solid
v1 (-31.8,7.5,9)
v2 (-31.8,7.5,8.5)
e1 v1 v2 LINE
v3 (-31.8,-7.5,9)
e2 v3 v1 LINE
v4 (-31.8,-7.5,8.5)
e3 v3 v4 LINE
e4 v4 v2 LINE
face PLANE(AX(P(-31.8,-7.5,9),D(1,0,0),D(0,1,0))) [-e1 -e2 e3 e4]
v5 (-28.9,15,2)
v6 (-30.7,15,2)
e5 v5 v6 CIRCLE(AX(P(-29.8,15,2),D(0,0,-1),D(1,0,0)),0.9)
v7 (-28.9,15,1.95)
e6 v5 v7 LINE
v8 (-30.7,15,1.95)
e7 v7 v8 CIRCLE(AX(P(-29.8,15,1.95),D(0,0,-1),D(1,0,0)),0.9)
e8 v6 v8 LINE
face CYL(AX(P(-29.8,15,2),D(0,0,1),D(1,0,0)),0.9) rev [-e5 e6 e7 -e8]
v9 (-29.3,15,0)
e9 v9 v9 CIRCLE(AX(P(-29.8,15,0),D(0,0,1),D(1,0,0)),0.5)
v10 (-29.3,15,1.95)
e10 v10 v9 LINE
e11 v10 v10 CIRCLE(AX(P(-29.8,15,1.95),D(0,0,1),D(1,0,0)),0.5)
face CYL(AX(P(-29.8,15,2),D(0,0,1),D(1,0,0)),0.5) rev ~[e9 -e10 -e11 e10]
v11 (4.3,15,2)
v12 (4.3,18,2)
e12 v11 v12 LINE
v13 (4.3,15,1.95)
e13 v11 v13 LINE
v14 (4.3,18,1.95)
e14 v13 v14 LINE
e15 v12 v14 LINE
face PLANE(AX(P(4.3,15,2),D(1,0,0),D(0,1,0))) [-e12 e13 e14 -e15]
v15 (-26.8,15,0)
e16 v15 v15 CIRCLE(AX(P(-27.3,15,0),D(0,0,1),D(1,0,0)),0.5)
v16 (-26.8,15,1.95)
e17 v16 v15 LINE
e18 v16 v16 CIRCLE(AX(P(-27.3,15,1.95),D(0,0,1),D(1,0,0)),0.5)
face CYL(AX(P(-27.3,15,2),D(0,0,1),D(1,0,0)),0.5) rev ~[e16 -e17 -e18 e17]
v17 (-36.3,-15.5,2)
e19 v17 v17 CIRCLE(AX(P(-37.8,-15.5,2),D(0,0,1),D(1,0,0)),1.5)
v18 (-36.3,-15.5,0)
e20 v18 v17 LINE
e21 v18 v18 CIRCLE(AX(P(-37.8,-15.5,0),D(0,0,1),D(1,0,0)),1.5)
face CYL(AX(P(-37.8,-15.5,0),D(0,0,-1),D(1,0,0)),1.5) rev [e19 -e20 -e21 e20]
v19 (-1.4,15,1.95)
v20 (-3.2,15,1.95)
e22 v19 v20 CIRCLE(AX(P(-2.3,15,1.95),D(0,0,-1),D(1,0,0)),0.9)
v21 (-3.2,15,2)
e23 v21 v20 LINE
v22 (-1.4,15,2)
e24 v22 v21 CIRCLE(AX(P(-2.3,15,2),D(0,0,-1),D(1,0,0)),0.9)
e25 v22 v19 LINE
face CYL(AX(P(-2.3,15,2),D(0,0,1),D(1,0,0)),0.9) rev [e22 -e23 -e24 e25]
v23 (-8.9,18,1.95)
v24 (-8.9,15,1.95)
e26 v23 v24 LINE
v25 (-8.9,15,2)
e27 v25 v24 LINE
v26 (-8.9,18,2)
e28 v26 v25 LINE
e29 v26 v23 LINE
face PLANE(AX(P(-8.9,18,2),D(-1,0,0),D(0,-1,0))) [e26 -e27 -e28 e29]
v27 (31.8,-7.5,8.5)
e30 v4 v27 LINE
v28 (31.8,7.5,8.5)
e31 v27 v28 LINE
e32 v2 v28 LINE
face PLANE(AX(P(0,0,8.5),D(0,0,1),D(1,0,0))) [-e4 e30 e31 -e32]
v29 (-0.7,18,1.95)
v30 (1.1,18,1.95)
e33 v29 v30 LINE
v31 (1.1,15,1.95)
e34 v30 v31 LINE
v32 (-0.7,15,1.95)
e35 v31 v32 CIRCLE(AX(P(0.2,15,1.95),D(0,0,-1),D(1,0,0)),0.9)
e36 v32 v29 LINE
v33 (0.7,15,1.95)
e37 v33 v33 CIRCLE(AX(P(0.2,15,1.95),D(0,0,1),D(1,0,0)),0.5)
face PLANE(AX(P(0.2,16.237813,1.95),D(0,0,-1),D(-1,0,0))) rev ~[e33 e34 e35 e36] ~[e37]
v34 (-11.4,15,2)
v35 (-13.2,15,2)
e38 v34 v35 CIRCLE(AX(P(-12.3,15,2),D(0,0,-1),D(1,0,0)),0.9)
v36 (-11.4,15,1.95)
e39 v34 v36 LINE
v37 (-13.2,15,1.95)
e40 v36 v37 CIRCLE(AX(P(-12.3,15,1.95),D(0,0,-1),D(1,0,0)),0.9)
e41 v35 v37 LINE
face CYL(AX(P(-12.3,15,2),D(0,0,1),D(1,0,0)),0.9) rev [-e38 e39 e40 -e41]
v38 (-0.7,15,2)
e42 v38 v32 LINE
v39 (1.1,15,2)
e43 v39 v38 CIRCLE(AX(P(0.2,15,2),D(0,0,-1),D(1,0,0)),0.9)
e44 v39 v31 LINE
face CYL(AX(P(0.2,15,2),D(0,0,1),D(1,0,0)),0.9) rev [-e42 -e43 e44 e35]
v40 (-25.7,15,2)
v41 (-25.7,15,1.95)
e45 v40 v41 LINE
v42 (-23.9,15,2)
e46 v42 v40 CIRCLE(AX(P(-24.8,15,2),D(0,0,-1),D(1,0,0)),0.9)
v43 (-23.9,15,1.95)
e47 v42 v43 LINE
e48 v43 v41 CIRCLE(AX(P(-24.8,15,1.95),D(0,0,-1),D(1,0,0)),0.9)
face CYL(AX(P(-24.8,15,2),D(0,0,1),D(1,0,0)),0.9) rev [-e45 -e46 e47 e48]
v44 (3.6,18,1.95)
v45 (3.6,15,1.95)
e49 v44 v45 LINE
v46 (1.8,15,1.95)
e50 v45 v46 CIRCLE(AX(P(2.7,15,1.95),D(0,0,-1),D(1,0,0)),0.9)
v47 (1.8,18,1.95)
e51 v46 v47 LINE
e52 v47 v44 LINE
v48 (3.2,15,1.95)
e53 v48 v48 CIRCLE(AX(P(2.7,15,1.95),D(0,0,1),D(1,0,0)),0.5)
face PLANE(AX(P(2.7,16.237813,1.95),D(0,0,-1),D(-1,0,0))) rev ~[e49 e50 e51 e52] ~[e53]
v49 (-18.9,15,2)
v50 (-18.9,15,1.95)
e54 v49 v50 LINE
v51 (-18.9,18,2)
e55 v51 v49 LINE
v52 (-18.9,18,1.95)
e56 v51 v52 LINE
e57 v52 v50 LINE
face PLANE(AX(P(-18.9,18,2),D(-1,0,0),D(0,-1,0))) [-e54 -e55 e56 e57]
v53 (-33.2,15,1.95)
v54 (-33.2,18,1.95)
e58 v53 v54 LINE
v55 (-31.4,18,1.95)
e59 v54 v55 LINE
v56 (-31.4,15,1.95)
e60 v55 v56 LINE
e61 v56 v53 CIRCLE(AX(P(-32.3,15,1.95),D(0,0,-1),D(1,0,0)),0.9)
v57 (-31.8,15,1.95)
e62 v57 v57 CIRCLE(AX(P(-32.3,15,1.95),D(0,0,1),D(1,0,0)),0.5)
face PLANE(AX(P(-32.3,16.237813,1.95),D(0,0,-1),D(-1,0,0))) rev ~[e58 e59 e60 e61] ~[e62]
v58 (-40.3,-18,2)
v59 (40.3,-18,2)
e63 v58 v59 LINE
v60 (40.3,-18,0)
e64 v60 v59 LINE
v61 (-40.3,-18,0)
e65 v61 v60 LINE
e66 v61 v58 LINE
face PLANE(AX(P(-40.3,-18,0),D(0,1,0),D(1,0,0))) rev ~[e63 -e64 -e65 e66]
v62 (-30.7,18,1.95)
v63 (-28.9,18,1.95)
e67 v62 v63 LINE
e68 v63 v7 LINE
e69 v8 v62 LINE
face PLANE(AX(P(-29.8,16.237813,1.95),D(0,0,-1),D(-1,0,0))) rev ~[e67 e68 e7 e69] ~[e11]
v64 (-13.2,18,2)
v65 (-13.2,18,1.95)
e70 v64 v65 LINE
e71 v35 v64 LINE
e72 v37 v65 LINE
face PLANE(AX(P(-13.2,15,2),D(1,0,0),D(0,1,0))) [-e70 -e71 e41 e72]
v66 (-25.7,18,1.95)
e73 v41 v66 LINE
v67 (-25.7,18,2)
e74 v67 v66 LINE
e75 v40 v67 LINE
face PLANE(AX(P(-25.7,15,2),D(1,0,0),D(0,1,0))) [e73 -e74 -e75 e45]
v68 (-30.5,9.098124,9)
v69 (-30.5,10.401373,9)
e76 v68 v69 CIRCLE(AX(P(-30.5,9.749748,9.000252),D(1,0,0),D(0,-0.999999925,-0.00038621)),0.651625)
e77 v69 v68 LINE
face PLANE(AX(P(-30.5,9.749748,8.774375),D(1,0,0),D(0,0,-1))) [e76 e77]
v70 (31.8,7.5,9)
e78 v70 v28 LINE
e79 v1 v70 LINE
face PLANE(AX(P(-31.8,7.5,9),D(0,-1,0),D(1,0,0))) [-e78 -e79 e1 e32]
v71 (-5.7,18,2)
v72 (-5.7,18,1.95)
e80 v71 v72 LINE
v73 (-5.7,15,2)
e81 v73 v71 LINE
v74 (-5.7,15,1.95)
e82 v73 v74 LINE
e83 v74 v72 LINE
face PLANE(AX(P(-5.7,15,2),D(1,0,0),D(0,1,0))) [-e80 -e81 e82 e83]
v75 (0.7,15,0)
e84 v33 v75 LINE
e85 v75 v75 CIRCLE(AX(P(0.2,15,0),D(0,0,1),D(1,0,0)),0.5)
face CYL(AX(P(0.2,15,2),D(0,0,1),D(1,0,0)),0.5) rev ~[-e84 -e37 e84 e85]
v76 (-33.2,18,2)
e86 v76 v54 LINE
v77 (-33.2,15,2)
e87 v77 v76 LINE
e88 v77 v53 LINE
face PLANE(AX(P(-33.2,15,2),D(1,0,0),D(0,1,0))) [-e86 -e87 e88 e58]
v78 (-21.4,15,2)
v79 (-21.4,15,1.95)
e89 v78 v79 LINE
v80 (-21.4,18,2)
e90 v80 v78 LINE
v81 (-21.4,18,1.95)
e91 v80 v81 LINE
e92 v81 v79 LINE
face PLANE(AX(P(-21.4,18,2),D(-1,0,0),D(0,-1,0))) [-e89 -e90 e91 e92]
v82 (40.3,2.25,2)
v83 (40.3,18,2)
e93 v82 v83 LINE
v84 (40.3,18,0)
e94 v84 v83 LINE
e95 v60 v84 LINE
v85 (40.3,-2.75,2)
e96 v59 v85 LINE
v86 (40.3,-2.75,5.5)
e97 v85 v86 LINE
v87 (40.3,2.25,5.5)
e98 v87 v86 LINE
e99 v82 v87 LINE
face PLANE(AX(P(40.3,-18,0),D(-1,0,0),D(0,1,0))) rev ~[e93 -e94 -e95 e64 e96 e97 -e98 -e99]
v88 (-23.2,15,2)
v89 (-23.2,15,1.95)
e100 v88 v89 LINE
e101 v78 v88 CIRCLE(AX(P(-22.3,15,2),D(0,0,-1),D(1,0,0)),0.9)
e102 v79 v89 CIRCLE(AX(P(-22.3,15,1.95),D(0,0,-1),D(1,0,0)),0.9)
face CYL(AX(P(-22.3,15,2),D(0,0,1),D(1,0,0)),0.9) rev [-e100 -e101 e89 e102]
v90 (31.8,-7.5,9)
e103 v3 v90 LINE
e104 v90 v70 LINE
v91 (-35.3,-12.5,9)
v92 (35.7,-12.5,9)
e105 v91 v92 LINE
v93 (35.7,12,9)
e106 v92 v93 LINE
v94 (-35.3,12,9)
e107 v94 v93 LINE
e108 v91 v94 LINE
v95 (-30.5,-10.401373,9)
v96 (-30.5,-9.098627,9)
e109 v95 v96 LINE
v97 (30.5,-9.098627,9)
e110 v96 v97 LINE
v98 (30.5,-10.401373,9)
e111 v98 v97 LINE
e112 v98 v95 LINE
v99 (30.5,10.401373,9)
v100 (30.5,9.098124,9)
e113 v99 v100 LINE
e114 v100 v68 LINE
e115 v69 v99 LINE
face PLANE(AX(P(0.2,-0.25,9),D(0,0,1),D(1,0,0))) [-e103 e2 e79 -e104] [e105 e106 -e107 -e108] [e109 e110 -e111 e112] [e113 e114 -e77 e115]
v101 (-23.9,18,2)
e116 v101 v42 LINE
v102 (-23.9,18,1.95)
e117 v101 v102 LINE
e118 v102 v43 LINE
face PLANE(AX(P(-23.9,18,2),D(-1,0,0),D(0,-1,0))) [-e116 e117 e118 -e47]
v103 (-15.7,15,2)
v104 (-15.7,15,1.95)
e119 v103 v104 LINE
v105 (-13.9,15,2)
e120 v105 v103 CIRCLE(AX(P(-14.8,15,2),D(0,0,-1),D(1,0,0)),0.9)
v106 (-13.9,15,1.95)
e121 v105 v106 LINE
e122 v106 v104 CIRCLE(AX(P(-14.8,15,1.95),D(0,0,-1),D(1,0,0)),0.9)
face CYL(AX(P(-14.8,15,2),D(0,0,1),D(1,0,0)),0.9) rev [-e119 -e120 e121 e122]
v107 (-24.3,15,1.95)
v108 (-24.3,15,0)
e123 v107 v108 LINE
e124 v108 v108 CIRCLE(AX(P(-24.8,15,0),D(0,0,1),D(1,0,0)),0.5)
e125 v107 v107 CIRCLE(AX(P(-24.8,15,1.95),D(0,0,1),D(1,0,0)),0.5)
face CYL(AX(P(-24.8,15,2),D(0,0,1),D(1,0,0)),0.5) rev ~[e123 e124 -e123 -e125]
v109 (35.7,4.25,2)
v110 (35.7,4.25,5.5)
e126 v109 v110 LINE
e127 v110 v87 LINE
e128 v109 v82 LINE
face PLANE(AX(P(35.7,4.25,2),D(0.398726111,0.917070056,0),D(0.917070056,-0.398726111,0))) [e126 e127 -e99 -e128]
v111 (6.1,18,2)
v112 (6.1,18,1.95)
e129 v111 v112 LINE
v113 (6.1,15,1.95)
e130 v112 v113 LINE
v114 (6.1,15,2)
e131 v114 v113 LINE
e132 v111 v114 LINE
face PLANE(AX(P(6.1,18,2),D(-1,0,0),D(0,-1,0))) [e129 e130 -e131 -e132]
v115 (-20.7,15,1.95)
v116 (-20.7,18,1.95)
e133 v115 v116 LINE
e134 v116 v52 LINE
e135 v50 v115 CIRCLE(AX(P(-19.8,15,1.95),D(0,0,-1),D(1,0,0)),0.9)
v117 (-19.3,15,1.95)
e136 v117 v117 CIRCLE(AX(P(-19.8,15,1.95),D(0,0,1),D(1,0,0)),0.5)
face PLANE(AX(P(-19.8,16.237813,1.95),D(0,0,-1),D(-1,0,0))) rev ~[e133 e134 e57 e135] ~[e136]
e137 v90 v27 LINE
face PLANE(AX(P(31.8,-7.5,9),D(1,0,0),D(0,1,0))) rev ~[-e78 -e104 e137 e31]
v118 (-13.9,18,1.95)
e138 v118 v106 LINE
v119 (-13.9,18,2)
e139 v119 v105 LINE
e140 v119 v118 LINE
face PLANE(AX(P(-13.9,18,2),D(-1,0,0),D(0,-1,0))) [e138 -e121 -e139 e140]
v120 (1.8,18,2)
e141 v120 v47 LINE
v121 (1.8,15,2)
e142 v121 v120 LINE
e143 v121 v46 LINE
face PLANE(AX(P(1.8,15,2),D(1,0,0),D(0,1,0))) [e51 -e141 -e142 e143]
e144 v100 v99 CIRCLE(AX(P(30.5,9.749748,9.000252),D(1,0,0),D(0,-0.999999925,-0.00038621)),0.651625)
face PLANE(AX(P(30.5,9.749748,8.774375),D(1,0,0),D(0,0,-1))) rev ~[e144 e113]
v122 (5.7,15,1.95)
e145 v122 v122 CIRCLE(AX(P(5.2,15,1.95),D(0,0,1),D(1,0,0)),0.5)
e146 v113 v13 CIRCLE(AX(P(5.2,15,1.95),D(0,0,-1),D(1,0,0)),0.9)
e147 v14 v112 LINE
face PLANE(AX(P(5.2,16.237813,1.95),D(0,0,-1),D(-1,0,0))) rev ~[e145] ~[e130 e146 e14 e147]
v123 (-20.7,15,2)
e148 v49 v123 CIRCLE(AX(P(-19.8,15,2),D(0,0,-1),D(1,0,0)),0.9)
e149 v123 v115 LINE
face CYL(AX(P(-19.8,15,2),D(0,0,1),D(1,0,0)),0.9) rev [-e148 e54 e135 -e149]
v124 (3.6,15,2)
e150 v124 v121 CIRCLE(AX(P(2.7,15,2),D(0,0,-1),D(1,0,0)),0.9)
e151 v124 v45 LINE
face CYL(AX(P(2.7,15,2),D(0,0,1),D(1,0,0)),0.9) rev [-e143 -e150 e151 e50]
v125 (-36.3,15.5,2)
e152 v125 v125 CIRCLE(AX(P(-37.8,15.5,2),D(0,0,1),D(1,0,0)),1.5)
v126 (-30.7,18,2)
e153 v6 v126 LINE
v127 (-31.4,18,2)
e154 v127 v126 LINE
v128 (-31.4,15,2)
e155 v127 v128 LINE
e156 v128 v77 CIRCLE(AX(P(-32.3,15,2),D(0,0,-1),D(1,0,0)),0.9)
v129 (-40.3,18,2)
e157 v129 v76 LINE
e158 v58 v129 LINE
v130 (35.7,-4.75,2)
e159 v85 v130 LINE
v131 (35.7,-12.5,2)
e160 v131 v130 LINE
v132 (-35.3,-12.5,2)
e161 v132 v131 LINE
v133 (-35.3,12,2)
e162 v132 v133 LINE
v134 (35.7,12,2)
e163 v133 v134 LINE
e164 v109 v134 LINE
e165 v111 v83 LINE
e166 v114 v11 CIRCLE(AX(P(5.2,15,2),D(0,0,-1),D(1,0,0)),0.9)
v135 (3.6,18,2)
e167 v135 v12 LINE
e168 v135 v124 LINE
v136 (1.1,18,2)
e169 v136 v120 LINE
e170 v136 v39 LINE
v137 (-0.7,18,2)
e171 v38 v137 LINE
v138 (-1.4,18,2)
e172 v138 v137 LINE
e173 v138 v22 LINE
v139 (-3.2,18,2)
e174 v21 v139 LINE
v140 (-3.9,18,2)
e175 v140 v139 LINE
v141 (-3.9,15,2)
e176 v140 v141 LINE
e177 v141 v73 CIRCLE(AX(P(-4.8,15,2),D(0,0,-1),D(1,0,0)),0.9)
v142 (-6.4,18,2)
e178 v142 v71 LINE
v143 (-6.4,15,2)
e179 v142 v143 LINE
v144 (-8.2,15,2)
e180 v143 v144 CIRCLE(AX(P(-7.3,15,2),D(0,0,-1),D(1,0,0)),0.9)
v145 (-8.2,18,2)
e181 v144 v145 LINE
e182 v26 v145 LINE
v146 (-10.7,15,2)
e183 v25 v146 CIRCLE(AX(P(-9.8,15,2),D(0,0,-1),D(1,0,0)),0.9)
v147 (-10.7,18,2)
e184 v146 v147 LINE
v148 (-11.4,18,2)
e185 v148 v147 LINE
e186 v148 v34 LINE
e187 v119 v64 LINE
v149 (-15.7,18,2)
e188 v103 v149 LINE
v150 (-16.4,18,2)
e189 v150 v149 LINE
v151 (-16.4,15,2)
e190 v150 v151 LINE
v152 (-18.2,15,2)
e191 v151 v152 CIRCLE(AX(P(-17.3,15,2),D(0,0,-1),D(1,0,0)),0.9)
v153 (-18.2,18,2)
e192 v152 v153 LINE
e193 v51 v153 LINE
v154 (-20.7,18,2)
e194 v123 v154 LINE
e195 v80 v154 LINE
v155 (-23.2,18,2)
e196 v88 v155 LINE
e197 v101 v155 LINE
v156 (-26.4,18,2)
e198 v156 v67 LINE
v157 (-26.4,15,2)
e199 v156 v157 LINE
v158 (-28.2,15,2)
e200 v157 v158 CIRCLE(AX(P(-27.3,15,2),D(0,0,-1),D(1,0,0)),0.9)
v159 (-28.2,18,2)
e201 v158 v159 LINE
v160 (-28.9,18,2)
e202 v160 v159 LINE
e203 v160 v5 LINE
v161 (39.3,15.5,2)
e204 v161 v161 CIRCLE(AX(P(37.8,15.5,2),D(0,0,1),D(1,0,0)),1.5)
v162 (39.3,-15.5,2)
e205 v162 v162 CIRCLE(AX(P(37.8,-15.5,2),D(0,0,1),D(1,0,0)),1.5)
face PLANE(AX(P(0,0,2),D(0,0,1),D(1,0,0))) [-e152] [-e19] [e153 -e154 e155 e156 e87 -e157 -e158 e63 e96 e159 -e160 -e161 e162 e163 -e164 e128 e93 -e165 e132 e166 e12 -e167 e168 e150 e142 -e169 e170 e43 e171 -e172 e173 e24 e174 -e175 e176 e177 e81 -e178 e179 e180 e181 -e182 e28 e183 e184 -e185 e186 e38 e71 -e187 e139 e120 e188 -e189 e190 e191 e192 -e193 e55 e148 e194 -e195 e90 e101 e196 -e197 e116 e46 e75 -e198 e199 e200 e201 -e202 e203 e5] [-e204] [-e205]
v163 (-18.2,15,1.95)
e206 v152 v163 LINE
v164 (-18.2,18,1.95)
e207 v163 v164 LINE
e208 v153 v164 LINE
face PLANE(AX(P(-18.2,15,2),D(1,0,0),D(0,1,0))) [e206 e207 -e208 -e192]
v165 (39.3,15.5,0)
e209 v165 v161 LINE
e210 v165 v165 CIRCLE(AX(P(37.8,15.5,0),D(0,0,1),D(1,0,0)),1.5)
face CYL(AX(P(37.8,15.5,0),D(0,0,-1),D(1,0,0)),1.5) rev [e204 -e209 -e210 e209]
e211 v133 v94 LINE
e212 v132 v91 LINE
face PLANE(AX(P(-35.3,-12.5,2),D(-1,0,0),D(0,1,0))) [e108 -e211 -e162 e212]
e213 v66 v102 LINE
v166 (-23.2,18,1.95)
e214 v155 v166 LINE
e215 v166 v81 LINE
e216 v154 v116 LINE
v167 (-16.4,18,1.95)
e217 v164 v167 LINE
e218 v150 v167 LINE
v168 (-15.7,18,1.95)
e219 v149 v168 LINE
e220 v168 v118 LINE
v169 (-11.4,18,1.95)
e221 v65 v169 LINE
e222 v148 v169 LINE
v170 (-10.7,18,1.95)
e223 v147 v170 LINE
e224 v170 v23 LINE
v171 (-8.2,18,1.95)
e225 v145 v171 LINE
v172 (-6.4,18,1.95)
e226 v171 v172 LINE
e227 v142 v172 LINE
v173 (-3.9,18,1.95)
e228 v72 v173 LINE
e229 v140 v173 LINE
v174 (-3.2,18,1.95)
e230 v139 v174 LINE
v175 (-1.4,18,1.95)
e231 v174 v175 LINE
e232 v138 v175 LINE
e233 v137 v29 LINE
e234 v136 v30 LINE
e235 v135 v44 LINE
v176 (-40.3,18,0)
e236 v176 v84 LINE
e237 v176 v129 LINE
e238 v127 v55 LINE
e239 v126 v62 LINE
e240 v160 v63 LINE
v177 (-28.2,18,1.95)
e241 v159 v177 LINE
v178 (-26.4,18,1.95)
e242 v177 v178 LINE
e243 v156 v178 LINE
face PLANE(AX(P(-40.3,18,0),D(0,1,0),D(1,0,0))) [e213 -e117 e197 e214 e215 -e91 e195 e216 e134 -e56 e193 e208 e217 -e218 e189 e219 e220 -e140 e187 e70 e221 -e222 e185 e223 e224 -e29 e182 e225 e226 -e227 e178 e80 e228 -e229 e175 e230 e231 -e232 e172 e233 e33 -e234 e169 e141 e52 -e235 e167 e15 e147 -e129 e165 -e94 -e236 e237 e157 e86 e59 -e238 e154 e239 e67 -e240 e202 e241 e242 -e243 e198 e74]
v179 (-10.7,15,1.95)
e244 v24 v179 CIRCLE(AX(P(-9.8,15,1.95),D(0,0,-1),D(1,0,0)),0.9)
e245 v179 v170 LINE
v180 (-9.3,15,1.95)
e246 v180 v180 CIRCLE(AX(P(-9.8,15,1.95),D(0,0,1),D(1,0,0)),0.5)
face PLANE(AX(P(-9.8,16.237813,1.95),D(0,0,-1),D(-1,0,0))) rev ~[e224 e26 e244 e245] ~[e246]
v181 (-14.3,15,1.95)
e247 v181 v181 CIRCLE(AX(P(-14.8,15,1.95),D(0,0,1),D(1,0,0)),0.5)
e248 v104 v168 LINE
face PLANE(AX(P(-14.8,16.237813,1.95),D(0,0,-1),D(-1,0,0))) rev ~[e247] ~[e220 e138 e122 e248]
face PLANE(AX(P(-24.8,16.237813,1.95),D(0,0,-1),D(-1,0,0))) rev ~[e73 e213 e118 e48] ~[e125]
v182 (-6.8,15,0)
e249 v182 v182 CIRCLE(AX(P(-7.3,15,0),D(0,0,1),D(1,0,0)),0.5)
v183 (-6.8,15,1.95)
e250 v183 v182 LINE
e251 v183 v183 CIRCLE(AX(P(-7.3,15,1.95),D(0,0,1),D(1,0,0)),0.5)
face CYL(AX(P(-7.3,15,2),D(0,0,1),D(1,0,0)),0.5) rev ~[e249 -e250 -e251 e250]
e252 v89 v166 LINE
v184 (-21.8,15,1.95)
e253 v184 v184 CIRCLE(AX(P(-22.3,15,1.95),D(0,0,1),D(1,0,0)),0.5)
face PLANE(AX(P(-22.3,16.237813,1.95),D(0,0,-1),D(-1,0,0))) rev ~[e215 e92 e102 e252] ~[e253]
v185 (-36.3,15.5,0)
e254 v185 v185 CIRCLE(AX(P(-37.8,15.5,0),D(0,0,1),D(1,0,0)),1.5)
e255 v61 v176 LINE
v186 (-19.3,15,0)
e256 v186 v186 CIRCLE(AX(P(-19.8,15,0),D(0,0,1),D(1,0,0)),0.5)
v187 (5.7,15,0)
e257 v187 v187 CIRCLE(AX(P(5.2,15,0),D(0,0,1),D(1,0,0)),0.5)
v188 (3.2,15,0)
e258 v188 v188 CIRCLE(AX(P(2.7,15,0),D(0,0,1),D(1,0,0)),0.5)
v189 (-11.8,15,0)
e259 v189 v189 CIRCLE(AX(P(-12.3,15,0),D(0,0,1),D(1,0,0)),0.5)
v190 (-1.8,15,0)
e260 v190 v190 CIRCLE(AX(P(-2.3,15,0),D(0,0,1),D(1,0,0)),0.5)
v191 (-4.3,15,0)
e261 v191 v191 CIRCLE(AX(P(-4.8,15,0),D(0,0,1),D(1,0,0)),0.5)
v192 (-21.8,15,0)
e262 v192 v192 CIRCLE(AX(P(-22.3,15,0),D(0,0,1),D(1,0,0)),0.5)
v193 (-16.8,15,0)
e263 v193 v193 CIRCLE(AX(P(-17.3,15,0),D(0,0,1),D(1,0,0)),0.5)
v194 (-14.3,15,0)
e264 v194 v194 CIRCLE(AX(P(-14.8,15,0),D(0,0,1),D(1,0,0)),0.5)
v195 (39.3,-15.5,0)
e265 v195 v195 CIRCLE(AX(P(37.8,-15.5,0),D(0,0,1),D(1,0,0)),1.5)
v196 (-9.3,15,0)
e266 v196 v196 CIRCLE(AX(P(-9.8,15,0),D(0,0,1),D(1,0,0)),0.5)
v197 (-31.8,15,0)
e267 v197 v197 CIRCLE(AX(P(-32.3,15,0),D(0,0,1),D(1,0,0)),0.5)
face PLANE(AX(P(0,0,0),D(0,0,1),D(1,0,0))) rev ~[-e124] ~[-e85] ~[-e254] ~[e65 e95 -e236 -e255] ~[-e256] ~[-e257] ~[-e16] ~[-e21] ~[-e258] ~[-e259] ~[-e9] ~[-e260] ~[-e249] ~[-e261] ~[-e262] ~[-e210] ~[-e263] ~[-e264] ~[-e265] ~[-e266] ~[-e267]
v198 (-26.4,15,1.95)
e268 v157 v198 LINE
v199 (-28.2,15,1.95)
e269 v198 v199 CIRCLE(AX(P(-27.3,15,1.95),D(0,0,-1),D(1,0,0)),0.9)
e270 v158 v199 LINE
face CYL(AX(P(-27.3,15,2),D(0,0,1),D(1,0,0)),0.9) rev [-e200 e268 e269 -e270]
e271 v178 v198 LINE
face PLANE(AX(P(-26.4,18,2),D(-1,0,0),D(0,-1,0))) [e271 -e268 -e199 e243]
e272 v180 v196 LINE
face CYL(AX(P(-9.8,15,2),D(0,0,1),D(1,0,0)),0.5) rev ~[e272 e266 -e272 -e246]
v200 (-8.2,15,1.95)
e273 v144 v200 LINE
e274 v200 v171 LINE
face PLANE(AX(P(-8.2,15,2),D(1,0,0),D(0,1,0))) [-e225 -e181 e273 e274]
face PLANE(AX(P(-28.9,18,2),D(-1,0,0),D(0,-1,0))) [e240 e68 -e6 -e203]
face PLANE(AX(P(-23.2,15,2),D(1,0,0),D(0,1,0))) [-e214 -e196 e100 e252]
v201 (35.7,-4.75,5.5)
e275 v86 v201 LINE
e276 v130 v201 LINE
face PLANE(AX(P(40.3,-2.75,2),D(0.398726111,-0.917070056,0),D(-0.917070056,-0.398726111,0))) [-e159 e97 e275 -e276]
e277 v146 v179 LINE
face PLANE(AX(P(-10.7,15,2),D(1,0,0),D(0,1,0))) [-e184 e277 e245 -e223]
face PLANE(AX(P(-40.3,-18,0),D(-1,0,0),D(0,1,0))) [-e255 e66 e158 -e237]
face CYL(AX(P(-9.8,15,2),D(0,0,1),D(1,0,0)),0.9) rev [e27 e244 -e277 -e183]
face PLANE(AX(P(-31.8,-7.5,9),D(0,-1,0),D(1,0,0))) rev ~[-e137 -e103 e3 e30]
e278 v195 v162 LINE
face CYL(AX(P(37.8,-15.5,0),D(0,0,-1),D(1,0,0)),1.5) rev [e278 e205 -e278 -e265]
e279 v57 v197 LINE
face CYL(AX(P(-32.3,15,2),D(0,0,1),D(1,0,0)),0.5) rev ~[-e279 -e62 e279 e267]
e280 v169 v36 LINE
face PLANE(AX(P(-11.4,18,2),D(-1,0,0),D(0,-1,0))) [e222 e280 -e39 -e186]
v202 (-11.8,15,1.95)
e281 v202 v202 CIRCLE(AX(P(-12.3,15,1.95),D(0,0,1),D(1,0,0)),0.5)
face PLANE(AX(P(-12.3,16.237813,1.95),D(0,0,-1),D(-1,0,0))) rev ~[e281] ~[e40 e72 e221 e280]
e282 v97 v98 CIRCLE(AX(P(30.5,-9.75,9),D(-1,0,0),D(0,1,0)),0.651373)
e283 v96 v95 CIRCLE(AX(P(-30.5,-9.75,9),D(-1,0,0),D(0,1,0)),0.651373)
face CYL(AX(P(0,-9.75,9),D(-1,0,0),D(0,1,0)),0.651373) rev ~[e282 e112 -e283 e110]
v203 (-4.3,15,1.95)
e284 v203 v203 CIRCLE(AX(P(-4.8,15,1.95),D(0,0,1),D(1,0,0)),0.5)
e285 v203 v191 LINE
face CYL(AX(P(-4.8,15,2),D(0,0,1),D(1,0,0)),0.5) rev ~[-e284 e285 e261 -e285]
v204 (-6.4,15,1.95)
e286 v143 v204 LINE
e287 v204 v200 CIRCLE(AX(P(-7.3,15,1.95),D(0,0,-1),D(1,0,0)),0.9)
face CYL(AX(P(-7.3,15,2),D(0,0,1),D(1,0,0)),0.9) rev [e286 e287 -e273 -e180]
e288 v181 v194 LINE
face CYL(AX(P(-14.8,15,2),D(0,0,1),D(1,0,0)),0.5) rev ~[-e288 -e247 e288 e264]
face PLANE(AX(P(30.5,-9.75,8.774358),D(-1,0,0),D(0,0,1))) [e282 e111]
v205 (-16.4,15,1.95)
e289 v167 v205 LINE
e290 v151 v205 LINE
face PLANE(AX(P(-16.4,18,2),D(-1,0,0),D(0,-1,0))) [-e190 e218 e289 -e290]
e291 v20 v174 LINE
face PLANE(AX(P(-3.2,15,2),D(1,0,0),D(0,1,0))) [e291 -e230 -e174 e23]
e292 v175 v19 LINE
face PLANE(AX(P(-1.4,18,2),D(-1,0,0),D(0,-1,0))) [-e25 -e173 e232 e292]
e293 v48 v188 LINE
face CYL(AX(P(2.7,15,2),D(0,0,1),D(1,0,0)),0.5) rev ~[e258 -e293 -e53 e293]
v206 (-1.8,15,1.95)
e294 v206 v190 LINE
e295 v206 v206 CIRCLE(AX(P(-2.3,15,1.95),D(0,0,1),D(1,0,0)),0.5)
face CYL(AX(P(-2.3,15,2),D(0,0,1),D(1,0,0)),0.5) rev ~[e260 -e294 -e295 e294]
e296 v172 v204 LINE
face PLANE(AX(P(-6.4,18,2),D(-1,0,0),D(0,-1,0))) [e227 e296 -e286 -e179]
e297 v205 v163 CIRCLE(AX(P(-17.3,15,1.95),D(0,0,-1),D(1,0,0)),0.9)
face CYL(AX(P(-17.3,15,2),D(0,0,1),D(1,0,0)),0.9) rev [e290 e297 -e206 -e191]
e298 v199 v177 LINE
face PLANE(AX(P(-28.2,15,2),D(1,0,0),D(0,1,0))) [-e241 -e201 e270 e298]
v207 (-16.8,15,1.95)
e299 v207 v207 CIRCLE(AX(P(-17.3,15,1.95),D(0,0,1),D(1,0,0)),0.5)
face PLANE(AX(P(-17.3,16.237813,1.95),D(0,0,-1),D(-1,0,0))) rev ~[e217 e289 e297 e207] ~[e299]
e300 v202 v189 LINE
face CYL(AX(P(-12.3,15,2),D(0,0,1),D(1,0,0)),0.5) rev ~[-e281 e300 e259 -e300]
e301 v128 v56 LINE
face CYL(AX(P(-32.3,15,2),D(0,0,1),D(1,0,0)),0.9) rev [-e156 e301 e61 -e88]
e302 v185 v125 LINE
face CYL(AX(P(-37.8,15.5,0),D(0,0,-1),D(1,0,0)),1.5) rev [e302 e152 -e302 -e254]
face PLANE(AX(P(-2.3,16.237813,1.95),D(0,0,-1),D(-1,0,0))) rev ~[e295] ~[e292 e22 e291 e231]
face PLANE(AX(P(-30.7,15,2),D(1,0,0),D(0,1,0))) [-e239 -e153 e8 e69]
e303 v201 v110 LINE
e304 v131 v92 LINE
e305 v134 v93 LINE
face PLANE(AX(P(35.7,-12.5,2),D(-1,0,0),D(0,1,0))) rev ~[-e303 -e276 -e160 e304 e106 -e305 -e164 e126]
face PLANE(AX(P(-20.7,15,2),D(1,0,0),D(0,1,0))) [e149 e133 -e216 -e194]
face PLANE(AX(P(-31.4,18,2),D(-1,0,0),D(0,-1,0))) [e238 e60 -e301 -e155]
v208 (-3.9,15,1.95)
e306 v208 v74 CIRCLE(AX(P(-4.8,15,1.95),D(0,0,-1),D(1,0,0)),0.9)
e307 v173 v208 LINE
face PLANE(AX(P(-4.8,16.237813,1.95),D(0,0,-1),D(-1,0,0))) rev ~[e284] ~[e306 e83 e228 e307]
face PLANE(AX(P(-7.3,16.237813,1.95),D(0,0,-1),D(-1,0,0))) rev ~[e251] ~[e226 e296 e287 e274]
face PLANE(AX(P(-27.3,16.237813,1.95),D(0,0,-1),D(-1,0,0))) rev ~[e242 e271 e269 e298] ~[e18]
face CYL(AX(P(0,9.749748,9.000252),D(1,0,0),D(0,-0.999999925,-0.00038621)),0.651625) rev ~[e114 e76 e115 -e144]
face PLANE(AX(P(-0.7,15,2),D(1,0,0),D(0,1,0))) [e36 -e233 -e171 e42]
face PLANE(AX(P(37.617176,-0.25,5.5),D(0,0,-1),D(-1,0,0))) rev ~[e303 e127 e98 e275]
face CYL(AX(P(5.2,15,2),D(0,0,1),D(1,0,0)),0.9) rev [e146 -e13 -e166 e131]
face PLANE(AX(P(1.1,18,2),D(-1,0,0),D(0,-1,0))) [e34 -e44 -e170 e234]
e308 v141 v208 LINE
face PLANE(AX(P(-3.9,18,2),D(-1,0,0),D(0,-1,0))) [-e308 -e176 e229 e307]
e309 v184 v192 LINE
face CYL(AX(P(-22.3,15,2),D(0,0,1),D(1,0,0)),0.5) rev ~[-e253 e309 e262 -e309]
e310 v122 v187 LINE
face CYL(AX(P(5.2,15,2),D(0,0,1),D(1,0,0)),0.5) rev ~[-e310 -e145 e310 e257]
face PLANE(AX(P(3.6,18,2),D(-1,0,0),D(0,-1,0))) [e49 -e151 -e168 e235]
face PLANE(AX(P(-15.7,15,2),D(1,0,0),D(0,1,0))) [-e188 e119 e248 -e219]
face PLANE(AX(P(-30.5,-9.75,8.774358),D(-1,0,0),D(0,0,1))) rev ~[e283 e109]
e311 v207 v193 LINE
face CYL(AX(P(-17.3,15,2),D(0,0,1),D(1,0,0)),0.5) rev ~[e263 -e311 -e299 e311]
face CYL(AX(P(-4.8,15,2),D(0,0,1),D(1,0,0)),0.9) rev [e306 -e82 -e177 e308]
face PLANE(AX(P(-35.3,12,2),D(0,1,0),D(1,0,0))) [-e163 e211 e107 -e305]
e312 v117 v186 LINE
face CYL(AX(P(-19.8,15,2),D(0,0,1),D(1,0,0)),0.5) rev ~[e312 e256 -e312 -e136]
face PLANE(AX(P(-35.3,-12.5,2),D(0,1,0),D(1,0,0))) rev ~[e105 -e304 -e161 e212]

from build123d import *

# Parameters (mm, degrees)
CROQUIS1_W                 = 80.6
CROQUIS1_H                 = 36
CROQUIS1_R                 = 1.5
SALIENTE_EXTRUIR1_DEPTH    = 2
CROQUIS2_W                 = 71
CROQUIS2_H                 = 24.5
SALIENTE_EXTRUIR2_DEPTH    = 7
CROQUIS3_W                 = 63.6
CROQUIS3_H                 = 15
CORTAR_EXTRUIR1_DEPTH      = 0.5
CORTAR_EXTRUIR2_DEPTH      = 30.5
CORTAR_EXTRUIR2_DEPTH_BACK = 30.5
SALIENTE_EXTRUIR3_DEPTH    = 3.5
CROQUIS6_R                 = 0.5
CORTAR_EXTRUIR3_DEPTH      = 3.5
CROQUIS8_R                 = 0.5
CORTAR_EXTRUIR4_DEPTH      = 0.05
MATRIZL1_COUNT             = 16
MATRIZL1_PITCH             = 2.5


with BuildPart() as part:
    # Croquis1 → Saliente-Extruir1 (new body)
    with BuildSketch(Plane.XY):
        Rectangle(CROQUIS1_W, CROQUIS1_H)
        with Locations((37.8, 15.5)):
            Circle(CROQUIS1_R, mode=Mode.SUBTRACT)
        with Locations((-37.8, 15.5)):
            Circle(CROQUIS1_R, mode=Mode.SUBTRACT)
        with Locations((37.8, -15.5)):
            Circle(CROQUIS1_R, mode=Mode.SUBTRACT)
        with Locations((-37.8, -15.5)):
            Circle(CROQUIS1_R, mode=Mode.SUBTRACT)
    extrude(amount=SALIENTE_EXTRUIR1_DEPTH)

    # Croquis2 → Saliente-Extruir2 (add)
    with BuildSketch(Plane.XY.offset(2)):
        with Locations((0.2, -0.25)):
            Rectangle(CROQUIS2_W, CROQUIS2_H)
    extrude(amount=SALIENTE_EXTRUIR2_DEPTH)

    # Croquis3 → Cortar-Extruir1 (cut)
    with BuildSketch(Plane.XY.offset(9)):
        Rectangle(CROQUIS3_W, CROQUIS3_H)
    extrude(amount=-CORTAR_EXTRUIR1_DEPTH, mode=Mode.SUBTRACT)

    # Croquis4 → Cortar-Extruir2 (cut, two sides)
    with BuildSketch(Plane(origin=(0, 0, 0), x_dir=(0, 0, -1), z_dir=(1, 0, 0))) as cortar_extruir2_sk:
        with BuildLine():
            Line((-9, 10.401372799), (-9, 9.098123873))
            ThreePointArc((-9, 9.098123873), (-8.348627201, 9.75), (-9, 10.401372799))
        make_face()
        with BuildLine():
            ThreePointArc((-9, -9.098627201), (-8.348627201, -9.75), (-9, -10.401372799))
            Line((-9, -10.401372799), (-9, -9.098627201))
        make_face()
    extrude(amount=CORTAR_EXTRUIR2_DEPTH, mode=Mode.SUBTRACT)
    extrude(cortar_extruir2_sk.sketch, amount=-CORTAR_EXTRUIR2_DEPTH_BACK, mode=Mode.SUBTRACT)

    # Croquis5 → Saliente-Extruir3 (add)
    with BuildSketch(Plane.XY.offset(2)):
        Polygon((35.7, 4.25), (40.3, 2.25), (40.3, -2.75), (35.7, -4.75), align=None)
    extrude(amount=SALIENTE_EXTRUIR3_DEPTH)

    # Croquis6 → Cortar-Extruir3 (cut)
    with BuildSketch(Plane.XY.offset(2)):
        with Locations((-32.3, 15)):
            Circle(CROQUIS6_R)
        with Locations((-29.8, 15)):
            Circle(CROQUIS6_R)
        with Locations((-27.3, 15)):
            Circle(CROQUIS6_R)
        with Locations((-24.8, 15)):
            Circle(CROQUIS6_R)
        with Locations((-22.3, 15)):
            Circle(CROQUIS6_R)
        with Locations((-19.8, 15)):
            Circle(CROQUIS6_R)
        with Locations((-17.3, 15)):
            Circle(CROQUIS6_R)
        with Locations((-14.8, 15)):
            Circle(CROQUIS6_R)
        with Locations((-12.3, 15)):
            Circle(CROQUIS6_R)
        with Locations((-9.8, 15)):
            Circle(CROQUIS6_R)
        with Locations((-7.3, 15)):
            Circle(CROQUIS6_R)
        with Locations((-4.8, 15)):
            Circle(CROQUIS6_R)
        with Locations((-2.3, 15)):
            Circle(CROQUIS6_R)
        with Locations((0.2, 15)):
            Circle(CROQUIS6_R)
        with Locations((2.7, 15)):
            Circle(CROQUIS6_R)
        with Locations((5.2, 15)):
            Circle(CROQUIS6_R)
    extrude(amount=-CORTAR_EXTRUIR3_DEPTH, mode=Mode.SUBTRACT)

    # Croquis8 → Cortar-Extruir4 (cut)
    with BuildSketch(Plane.XY.offset(2)):
        with BuildLine():
            Line((-33.2, 15), (-33.2, 18))
            Line((-33.2, 18), (-31.4, 18))
            Line((-31.4, 18), (-31.4, 15))
            ThreePointArc((-31.4, 15), (-32.3, 14.1), (-33.2, 15))
        make_face()
        with Locations((-32.3, 15)):
            Circle(CROQUIS8_R, mode=Mode.SUBTRACT)
    cortar_extruir4 = extrude(amount=-CORTAR_EXTRUIR4_DEPTH, mode=Mode.SUBTRACT)

    # MatrizL1: Cortar-Extruir4 ×16
    with Locations(*[(i * MATRIZL1_PITCH, 0, 0) for i in range(1, MATRIZL1_COUNT)]):
        add(cortar_extruir4, mode=Mode.SUBTRACT)


solid = part.part
